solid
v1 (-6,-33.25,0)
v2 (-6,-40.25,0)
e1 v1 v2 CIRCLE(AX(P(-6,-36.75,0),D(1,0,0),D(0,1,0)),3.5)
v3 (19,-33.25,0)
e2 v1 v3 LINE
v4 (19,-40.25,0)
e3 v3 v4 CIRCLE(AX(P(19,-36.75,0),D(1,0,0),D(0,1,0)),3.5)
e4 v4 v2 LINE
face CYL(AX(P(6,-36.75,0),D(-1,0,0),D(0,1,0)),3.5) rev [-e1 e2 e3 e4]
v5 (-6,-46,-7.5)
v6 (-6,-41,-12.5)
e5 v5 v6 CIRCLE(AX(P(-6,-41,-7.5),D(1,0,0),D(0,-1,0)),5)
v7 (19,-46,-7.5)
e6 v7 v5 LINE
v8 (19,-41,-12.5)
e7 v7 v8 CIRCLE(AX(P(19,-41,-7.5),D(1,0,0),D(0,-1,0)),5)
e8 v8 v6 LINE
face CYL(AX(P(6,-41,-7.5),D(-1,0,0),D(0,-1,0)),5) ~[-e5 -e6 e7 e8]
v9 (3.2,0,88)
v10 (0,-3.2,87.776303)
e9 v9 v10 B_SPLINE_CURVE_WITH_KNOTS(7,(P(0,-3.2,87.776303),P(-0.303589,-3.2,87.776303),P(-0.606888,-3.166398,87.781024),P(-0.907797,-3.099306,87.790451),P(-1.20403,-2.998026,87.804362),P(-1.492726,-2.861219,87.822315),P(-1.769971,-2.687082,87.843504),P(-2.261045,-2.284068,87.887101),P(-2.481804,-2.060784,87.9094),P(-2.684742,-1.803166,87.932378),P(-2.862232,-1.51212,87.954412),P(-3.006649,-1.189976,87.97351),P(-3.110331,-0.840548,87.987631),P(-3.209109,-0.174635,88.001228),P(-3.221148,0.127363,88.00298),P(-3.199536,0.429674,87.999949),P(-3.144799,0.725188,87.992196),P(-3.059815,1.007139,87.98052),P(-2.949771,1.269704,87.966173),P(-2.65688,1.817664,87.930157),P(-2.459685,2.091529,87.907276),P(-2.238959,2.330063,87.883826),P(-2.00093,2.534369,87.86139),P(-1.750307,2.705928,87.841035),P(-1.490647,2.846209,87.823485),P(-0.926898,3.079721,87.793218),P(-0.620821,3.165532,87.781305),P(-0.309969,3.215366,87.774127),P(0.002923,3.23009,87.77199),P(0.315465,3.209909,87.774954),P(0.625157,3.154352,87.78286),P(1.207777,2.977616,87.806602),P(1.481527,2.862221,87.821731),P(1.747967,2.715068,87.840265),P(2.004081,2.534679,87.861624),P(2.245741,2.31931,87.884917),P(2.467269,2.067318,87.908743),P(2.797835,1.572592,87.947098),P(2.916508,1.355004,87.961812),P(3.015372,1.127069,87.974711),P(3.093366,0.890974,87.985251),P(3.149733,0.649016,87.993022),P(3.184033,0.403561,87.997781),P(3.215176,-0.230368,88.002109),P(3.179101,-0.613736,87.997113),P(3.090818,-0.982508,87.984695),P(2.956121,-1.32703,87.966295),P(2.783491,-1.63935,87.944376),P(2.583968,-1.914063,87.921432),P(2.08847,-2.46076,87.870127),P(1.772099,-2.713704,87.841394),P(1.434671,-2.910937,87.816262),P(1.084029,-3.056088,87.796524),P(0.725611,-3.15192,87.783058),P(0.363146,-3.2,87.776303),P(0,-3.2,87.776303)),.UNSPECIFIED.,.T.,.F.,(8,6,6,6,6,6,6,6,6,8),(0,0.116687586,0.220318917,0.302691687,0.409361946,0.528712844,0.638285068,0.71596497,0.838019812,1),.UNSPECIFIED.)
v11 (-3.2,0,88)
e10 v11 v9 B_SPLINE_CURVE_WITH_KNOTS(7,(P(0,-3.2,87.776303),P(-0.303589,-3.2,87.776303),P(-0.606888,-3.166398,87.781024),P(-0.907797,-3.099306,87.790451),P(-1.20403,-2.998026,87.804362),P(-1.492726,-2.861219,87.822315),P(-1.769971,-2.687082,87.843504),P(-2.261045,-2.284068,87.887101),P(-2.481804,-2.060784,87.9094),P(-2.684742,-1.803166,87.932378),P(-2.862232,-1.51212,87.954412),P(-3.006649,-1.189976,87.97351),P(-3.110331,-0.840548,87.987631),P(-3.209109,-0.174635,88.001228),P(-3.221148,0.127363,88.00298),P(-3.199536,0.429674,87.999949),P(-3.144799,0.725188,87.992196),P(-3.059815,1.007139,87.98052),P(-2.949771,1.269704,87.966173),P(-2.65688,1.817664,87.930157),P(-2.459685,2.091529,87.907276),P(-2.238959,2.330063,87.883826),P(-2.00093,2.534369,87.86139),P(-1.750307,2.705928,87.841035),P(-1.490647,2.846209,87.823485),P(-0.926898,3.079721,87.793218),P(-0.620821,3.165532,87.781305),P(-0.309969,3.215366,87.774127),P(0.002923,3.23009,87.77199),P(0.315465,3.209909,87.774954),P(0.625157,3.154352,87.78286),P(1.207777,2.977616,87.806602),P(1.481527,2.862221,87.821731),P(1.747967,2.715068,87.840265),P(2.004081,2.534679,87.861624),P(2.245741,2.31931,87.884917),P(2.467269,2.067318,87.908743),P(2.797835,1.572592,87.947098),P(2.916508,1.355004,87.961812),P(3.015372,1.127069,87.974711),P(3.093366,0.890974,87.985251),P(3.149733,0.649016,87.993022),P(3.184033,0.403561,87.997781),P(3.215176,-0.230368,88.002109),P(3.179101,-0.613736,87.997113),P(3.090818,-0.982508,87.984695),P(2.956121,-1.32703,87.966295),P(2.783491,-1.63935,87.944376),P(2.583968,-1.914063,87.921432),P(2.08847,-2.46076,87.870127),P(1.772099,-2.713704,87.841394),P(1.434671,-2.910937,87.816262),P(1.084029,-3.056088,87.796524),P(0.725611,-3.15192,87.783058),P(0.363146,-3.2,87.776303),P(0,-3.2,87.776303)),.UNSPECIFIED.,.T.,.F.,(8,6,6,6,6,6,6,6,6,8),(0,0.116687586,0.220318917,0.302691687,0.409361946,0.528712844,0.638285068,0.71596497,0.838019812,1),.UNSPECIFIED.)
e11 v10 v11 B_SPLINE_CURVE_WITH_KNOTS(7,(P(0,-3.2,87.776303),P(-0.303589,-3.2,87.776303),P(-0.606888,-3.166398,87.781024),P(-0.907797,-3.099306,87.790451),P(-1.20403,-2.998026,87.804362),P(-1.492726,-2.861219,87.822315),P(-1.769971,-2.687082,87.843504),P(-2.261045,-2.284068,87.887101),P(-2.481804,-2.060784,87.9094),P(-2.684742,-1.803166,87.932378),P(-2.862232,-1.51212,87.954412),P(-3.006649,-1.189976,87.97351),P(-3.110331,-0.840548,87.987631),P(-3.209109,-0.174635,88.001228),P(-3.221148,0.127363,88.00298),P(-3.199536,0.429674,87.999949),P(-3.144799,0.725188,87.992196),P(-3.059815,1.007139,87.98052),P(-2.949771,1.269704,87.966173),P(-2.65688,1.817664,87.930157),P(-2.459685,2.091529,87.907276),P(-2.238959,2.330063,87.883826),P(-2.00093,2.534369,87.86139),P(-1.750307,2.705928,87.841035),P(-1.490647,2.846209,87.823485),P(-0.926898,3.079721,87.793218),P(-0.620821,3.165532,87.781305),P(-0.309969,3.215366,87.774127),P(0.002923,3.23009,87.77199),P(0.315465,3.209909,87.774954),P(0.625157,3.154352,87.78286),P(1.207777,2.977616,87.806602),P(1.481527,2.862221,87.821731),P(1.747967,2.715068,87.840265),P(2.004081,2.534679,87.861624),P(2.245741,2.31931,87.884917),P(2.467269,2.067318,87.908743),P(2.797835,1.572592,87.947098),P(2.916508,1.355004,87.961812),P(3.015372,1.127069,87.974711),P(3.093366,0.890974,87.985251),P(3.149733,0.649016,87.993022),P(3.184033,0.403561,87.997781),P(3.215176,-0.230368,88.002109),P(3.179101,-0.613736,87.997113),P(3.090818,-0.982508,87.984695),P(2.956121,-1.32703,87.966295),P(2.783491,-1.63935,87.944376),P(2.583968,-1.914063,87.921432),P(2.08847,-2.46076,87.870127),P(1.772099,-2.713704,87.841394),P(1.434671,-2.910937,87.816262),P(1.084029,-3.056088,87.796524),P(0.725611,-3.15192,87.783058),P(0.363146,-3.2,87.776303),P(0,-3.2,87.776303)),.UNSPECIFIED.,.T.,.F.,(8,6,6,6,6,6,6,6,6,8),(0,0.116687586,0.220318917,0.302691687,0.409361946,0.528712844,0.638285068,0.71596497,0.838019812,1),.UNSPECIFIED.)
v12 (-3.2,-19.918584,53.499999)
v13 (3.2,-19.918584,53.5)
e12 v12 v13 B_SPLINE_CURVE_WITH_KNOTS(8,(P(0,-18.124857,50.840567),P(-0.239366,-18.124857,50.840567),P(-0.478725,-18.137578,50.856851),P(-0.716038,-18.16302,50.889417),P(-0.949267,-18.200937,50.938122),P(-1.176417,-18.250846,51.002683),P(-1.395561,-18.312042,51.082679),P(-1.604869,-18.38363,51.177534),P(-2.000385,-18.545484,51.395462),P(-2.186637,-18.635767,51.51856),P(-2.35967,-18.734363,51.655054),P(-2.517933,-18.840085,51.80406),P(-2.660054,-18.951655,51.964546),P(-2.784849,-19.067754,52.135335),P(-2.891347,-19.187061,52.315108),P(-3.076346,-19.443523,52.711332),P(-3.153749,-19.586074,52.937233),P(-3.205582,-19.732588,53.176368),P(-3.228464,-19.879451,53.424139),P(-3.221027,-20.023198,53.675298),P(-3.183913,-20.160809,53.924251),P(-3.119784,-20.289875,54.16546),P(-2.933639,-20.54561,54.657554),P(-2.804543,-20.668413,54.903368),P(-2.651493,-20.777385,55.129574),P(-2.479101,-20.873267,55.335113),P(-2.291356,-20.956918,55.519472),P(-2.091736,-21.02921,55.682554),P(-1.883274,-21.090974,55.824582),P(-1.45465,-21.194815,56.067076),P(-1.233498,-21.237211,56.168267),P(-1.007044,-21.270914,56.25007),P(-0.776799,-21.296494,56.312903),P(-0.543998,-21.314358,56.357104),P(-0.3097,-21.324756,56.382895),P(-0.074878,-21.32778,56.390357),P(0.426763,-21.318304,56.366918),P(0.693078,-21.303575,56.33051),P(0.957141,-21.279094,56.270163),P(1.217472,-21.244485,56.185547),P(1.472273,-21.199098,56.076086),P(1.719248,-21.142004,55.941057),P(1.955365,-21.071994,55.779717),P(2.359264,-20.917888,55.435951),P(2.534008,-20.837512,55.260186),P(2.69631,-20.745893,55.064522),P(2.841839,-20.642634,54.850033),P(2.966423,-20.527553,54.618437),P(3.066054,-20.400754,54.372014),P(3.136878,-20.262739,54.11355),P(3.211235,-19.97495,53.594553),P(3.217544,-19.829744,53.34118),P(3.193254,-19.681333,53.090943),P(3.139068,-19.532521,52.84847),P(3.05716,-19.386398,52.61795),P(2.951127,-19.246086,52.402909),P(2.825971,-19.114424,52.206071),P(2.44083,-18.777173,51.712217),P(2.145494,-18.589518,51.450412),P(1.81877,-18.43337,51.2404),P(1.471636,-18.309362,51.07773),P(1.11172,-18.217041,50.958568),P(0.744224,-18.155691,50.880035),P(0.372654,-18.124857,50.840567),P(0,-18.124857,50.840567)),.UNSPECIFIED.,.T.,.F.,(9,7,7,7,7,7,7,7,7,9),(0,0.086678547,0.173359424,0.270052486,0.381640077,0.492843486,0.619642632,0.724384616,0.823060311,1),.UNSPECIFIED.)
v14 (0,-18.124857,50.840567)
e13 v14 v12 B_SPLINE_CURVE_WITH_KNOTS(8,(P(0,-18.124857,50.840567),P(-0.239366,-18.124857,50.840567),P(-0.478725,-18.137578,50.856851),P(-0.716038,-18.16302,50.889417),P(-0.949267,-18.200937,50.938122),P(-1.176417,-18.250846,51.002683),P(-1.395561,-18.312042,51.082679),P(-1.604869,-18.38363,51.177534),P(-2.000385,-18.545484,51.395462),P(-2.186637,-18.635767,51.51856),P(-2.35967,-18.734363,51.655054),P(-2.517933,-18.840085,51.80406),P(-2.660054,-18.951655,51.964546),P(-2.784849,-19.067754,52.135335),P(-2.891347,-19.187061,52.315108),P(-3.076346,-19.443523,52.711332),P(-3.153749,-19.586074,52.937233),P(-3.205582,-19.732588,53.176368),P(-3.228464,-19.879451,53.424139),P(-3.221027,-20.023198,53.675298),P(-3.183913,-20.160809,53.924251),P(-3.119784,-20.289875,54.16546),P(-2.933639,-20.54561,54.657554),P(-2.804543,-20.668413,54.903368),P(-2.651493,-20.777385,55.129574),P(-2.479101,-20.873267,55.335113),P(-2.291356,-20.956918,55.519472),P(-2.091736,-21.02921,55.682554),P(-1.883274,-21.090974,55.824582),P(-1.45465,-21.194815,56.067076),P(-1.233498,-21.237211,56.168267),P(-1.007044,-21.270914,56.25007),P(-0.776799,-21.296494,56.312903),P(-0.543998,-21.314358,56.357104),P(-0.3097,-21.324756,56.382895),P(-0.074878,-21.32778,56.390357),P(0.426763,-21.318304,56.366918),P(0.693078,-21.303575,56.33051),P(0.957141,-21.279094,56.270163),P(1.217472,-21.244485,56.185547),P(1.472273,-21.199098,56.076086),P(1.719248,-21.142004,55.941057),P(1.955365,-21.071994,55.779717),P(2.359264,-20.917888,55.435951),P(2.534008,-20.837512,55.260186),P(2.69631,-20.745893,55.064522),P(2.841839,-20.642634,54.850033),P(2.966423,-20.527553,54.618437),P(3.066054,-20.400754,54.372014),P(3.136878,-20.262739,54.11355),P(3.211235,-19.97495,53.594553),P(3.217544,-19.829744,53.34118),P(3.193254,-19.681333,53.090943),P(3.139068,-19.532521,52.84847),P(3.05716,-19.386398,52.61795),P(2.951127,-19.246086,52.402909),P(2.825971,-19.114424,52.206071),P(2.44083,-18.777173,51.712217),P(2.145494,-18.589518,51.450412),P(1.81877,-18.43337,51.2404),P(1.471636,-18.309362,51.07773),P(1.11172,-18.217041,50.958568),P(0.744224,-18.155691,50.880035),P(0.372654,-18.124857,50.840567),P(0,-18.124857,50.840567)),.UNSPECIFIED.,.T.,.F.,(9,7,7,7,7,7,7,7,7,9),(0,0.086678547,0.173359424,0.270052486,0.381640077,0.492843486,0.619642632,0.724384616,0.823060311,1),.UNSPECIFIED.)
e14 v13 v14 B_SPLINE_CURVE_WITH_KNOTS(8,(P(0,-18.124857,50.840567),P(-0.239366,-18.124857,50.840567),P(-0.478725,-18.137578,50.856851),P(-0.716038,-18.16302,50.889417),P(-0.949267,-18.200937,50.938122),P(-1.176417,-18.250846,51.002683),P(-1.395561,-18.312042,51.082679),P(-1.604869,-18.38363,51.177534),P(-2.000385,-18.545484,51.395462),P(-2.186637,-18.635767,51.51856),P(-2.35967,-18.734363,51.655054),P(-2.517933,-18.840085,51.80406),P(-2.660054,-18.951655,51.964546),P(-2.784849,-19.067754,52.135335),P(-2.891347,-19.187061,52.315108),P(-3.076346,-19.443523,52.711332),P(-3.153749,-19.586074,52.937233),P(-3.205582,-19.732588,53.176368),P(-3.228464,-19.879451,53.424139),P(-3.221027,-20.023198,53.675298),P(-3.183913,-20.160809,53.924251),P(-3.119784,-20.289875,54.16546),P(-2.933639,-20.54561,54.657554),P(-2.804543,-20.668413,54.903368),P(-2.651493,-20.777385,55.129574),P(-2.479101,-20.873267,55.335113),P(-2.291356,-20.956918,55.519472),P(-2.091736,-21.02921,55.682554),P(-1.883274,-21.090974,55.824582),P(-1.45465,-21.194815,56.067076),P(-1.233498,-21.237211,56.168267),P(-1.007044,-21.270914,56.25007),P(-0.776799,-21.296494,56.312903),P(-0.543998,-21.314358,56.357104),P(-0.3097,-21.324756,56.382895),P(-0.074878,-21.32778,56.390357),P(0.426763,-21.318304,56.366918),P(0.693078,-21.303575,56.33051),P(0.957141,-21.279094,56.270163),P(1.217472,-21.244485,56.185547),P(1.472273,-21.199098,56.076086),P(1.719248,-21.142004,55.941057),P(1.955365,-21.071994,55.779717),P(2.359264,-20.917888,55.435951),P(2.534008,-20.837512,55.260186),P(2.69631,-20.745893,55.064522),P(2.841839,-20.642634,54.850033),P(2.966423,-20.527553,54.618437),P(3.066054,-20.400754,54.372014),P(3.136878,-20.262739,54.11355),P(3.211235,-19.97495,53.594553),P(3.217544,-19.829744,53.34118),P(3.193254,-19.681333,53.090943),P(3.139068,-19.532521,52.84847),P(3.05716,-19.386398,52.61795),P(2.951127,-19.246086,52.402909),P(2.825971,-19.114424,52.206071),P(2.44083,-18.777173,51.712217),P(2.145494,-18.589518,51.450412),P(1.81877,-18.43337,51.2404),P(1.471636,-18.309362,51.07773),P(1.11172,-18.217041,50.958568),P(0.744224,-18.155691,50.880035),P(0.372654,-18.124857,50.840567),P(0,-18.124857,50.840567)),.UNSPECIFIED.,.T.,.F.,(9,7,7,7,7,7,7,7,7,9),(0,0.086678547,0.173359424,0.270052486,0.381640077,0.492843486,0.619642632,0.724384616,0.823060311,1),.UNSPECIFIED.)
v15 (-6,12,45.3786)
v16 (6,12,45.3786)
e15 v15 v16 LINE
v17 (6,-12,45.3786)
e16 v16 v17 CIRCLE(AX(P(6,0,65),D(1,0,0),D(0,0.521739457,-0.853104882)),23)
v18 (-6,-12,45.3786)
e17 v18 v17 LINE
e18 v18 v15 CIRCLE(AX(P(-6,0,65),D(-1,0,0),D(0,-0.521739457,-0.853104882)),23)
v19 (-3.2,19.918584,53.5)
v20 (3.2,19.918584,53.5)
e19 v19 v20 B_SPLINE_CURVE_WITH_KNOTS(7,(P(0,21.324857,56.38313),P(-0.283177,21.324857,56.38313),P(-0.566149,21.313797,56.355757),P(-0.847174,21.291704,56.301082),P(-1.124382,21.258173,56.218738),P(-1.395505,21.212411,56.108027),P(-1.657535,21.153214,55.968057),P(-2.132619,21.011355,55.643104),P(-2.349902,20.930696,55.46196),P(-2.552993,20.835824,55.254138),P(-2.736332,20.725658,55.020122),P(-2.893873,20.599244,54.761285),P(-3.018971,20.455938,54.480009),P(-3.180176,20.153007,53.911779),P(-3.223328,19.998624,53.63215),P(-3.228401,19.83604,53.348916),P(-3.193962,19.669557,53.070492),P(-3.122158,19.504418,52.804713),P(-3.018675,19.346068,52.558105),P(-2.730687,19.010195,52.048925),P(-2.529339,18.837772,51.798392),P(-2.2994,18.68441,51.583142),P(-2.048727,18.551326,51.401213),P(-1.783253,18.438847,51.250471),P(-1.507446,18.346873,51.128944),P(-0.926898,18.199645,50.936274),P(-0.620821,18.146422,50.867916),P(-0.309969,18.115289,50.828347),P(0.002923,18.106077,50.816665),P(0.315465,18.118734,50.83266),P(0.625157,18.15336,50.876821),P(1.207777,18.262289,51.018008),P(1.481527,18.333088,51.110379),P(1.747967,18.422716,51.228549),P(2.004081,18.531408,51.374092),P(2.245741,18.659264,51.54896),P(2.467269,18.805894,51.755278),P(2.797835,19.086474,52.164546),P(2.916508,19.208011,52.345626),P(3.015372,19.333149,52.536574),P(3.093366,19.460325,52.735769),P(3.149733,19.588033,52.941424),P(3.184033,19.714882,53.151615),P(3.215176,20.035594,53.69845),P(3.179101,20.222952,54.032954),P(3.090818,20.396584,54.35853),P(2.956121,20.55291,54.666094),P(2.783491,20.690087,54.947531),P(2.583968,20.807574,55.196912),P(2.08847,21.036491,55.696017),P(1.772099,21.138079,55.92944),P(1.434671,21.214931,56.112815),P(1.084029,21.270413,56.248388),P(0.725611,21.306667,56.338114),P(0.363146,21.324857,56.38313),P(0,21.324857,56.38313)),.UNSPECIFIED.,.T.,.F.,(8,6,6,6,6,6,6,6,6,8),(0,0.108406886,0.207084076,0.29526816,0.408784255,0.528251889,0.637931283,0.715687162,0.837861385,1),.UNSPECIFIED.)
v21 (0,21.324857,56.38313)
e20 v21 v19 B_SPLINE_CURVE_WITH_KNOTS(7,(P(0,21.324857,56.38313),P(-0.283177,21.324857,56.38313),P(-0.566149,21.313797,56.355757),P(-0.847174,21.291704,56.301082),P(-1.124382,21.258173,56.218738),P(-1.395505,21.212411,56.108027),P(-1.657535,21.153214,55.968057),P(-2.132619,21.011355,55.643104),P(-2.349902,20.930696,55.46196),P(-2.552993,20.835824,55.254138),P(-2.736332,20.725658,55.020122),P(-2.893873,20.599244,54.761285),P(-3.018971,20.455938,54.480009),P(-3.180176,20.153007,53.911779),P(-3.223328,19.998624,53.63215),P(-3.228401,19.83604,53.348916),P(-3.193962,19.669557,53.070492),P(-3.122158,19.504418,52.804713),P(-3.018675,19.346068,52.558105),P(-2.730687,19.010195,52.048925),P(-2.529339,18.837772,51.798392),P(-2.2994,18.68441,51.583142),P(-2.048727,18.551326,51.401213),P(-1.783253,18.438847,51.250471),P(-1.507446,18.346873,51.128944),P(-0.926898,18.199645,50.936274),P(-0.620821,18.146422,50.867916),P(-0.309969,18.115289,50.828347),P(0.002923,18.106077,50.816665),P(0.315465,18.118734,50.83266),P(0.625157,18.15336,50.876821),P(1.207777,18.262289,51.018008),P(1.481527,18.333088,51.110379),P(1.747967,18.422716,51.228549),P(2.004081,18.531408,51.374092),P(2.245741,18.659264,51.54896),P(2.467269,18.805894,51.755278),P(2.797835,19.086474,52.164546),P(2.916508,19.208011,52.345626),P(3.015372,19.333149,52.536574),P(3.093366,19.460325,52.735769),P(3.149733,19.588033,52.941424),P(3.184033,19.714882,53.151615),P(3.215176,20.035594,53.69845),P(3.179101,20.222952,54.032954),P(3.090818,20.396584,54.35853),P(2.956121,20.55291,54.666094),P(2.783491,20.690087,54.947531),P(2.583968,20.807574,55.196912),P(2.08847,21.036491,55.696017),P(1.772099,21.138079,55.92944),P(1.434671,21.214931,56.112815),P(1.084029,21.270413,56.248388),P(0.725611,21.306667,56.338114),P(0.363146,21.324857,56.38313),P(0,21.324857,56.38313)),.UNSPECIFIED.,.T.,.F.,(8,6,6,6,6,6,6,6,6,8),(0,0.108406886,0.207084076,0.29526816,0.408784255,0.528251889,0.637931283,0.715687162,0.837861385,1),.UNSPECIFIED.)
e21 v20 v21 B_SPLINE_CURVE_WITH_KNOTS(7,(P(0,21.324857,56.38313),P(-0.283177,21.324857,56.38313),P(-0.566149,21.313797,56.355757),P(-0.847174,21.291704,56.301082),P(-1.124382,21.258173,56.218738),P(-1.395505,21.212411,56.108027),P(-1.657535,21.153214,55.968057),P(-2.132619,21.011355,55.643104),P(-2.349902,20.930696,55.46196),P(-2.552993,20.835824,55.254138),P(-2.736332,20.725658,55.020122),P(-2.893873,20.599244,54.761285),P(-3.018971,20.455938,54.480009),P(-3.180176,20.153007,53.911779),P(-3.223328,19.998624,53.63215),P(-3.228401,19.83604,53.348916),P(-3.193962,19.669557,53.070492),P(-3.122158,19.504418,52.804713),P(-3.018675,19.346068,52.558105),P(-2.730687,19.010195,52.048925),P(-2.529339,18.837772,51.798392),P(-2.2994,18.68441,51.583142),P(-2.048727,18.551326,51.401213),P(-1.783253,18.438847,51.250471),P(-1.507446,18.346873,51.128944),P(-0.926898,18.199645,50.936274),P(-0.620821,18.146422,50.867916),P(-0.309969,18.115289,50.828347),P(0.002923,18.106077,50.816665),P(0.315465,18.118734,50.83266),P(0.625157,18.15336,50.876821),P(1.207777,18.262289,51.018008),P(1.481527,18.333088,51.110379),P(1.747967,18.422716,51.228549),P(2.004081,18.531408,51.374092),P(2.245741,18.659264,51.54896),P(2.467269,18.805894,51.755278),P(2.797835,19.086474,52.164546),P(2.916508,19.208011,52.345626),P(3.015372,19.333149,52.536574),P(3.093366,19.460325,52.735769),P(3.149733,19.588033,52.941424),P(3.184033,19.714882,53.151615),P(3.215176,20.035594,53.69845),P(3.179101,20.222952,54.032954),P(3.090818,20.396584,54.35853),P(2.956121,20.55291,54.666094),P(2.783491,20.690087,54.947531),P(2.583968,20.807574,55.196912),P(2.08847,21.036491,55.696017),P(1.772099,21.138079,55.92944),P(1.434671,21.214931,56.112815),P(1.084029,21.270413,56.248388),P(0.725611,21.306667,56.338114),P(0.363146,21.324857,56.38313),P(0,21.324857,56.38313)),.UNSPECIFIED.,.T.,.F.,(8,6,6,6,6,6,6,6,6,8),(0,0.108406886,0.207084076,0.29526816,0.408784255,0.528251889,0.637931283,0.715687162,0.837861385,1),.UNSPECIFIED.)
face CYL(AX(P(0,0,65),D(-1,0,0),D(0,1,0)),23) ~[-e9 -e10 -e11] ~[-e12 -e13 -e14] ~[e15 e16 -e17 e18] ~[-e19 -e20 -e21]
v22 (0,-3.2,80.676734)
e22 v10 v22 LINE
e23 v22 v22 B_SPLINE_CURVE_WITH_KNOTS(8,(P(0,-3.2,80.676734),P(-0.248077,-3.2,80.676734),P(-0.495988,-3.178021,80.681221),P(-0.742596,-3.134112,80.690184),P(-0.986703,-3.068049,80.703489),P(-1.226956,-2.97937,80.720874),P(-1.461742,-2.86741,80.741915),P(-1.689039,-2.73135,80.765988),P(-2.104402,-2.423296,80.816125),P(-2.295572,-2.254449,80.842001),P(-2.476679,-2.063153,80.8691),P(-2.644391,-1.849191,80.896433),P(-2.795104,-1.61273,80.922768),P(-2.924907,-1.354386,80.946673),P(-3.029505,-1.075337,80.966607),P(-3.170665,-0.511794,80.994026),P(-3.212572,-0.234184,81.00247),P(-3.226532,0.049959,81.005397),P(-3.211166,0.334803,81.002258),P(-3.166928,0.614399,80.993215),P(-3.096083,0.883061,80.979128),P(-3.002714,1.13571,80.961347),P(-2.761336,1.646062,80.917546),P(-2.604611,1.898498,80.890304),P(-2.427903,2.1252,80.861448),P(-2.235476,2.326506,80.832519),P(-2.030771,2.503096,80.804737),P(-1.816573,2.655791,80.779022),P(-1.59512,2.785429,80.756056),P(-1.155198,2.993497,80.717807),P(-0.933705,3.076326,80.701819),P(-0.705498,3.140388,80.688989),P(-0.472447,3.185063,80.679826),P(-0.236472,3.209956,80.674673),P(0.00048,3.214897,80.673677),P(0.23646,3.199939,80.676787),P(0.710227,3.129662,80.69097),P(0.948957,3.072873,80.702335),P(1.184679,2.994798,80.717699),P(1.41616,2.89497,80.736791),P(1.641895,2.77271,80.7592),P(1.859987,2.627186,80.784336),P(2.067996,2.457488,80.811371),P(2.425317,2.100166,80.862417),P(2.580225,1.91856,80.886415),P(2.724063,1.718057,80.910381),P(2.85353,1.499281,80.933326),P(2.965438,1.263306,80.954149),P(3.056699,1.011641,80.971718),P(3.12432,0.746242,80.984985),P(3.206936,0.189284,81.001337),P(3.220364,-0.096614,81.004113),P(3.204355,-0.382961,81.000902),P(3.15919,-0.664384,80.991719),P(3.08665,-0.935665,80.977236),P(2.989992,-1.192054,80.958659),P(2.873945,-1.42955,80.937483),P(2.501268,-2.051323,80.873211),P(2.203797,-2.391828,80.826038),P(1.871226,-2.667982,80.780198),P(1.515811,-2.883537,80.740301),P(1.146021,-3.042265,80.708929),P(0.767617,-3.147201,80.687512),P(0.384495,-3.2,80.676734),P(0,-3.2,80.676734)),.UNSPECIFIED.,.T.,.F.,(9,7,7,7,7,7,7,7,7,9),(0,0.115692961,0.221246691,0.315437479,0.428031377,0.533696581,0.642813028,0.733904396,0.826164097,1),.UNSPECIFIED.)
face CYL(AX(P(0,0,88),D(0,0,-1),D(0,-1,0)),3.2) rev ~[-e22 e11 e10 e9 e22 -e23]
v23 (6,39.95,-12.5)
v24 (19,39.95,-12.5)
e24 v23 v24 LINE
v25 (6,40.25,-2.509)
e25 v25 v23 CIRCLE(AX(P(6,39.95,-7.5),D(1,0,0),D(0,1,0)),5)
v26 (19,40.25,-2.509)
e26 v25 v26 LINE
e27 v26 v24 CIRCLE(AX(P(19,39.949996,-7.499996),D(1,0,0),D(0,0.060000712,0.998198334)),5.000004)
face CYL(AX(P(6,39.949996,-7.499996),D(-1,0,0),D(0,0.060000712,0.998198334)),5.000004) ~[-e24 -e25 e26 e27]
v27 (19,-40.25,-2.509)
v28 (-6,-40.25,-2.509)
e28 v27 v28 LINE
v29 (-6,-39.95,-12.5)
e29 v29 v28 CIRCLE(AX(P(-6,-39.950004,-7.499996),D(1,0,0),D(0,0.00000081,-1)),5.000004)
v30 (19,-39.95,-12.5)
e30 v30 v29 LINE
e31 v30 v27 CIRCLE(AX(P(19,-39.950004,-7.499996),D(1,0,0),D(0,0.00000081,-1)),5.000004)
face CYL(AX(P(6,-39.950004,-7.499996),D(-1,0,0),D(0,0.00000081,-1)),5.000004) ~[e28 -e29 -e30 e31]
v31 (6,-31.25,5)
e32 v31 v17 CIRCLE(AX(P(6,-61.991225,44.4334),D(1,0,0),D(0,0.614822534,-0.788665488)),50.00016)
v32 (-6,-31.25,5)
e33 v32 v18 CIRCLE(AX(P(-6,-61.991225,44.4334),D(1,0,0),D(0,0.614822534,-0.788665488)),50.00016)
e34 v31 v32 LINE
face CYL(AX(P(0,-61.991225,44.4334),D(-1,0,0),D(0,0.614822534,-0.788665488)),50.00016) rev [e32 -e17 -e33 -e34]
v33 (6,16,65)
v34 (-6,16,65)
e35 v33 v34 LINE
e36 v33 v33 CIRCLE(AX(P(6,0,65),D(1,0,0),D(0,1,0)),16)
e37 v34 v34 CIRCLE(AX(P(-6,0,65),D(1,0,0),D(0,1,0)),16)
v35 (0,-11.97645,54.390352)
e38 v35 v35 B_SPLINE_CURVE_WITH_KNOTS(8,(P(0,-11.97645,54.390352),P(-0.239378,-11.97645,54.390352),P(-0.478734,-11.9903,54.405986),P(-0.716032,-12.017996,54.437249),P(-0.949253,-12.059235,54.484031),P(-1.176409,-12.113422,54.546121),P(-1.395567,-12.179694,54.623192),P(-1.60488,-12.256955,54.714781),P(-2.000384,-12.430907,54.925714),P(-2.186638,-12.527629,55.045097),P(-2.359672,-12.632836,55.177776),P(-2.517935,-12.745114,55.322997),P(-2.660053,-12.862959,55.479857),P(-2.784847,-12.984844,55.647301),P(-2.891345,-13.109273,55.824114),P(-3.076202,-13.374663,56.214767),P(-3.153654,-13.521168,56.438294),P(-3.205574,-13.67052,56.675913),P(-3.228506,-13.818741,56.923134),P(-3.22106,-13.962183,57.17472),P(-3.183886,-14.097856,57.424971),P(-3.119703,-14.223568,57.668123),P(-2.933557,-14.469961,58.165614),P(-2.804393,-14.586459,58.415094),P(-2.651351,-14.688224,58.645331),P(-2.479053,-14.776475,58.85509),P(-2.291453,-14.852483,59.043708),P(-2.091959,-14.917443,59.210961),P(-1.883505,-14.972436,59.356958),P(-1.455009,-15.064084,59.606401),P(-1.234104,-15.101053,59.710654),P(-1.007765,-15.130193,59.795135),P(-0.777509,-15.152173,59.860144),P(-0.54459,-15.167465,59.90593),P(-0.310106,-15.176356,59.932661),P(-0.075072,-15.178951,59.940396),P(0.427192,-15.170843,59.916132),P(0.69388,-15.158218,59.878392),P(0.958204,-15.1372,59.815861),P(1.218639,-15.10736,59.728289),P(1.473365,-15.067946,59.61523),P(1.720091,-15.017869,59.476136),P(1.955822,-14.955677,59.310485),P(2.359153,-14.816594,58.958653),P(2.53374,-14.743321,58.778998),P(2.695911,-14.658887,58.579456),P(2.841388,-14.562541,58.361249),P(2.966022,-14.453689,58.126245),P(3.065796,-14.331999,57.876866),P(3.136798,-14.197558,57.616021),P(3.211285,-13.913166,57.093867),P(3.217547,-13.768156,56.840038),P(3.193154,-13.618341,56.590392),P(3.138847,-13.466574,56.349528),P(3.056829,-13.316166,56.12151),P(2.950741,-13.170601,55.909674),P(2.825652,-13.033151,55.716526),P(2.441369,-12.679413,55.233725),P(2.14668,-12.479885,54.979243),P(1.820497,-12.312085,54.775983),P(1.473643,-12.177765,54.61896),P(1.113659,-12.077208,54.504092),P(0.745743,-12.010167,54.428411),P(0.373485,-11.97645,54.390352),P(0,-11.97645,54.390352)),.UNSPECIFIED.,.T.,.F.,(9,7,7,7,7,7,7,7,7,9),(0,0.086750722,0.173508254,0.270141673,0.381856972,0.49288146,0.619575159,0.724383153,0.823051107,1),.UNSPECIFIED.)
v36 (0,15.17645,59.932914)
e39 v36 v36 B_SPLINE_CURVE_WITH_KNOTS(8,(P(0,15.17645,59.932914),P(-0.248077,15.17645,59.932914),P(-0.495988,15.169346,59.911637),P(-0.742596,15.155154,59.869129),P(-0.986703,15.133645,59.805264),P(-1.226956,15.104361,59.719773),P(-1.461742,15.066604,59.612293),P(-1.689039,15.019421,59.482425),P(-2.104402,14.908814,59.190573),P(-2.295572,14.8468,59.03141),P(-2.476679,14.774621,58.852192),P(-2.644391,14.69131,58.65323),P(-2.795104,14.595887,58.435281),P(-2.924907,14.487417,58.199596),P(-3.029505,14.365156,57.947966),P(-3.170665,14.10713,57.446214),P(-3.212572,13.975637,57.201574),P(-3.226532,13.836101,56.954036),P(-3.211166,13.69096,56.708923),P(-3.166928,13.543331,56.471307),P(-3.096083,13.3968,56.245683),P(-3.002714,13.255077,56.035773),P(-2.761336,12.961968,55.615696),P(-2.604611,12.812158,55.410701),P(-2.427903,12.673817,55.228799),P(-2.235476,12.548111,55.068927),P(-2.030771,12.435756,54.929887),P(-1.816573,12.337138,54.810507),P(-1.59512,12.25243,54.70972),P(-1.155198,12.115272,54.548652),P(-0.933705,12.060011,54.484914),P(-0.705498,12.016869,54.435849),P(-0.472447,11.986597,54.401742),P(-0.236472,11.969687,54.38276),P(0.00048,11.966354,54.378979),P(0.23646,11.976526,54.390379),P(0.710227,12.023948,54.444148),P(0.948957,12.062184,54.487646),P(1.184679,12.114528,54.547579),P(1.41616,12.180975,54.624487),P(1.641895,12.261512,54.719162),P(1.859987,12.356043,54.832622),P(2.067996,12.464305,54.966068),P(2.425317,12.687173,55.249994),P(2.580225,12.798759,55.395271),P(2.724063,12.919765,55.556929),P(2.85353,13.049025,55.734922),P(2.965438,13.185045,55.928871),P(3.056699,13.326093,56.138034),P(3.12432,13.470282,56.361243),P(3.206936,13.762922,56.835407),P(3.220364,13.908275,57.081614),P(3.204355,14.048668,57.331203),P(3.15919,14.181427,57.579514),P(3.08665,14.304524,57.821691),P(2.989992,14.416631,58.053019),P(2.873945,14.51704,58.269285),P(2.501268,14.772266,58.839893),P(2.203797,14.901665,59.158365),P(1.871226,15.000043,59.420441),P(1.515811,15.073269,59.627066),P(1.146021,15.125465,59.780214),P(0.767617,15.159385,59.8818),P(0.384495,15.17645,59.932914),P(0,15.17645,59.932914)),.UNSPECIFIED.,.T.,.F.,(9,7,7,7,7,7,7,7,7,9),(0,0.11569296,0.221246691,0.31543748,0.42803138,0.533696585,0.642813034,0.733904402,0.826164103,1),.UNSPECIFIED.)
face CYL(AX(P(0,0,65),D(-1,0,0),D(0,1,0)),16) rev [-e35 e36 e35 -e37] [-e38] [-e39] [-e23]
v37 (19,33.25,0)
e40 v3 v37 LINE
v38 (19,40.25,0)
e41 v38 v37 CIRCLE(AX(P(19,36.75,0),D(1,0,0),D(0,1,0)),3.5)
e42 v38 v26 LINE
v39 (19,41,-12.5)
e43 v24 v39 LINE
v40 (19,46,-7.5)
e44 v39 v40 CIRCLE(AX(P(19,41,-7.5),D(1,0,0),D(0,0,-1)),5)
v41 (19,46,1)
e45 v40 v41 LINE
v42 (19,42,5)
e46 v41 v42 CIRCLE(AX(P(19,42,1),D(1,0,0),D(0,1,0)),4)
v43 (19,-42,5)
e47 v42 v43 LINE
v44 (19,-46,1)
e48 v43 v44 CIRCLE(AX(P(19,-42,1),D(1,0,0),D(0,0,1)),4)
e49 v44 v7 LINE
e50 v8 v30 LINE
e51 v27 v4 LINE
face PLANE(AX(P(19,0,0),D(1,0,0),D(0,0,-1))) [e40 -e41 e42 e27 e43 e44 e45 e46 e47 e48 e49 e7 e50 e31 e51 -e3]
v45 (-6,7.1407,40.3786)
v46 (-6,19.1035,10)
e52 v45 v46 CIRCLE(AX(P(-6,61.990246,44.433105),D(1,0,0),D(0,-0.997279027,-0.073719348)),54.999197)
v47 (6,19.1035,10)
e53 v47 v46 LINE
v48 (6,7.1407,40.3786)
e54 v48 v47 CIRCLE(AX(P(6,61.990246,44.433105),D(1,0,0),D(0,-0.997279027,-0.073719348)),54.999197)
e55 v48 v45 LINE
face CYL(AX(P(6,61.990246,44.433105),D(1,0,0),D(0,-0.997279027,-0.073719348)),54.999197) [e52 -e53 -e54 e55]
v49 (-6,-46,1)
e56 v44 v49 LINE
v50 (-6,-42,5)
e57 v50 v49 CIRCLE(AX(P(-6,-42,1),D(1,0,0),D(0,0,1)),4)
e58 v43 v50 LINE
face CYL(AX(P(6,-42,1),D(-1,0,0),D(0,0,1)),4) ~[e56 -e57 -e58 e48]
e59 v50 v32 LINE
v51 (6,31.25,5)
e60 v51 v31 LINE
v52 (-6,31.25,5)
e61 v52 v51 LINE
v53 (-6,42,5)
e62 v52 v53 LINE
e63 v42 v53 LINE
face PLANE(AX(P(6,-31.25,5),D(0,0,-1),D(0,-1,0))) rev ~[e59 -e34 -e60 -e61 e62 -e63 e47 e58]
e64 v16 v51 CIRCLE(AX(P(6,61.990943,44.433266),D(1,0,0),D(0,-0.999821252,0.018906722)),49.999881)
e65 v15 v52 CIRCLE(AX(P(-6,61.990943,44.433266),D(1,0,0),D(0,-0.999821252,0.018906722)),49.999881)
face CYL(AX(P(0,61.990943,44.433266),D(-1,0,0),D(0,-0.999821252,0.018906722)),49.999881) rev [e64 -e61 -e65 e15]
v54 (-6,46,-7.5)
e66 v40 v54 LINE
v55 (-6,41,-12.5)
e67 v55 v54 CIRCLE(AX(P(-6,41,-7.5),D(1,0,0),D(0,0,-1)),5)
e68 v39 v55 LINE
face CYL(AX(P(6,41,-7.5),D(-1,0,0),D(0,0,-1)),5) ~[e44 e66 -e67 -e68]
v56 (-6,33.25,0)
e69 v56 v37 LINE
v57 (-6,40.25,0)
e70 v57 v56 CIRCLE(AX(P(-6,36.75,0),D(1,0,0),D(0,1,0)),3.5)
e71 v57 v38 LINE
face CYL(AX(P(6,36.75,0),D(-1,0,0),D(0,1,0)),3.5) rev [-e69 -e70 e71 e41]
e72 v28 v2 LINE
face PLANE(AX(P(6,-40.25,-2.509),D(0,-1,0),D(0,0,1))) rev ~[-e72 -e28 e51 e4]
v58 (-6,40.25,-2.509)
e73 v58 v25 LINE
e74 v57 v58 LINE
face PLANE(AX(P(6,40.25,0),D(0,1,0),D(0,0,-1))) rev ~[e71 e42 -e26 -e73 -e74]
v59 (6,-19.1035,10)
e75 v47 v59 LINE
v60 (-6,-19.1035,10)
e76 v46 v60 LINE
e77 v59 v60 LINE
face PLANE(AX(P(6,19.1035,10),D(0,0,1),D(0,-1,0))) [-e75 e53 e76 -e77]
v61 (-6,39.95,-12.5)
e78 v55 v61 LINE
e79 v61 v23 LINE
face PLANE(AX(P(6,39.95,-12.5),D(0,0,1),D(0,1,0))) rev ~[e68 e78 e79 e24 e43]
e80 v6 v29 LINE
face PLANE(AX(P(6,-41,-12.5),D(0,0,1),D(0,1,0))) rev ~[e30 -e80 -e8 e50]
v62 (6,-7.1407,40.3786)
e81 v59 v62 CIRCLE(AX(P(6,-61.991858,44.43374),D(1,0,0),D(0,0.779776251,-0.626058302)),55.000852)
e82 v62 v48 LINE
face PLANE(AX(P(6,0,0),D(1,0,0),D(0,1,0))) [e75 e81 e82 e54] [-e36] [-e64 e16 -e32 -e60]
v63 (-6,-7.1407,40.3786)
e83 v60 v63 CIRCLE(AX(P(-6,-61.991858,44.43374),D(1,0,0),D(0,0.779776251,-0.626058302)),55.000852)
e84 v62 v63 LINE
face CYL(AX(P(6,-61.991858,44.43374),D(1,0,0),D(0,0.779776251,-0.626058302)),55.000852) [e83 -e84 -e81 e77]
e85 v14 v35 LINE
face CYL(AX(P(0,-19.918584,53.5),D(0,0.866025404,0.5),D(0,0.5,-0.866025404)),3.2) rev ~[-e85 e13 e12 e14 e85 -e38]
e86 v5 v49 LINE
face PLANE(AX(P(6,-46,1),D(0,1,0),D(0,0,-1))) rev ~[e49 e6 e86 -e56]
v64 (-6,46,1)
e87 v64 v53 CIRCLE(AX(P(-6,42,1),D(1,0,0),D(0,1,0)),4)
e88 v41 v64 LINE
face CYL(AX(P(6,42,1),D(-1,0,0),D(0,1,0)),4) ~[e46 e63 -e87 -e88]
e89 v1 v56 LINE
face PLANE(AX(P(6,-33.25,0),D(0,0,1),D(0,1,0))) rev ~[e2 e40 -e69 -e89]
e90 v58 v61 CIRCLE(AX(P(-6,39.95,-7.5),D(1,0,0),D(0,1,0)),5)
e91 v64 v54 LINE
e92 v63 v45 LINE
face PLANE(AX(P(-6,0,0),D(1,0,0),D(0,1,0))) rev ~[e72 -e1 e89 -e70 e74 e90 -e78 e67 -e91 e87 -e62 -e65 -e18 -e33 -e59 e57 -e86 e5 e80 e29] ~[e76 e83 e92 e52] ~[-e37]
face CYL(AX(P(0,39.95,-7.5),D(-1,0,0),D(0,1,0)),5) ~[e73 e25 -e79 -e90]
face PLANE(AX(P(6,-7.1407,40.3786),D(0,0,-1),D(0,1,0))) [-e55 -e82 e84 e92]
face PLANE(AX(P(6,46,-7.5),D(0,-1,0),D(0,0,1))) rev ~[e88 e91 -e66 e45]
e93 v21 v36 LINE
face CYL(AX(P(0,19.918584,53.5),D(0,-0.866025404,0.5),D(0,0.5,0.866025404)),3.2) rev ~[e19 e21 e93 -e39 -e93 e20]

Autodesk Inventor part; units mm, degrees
ref_plane "YZ Plane" through (0, 0, 0) normal (1, 0, 0) x (0, 1, 0)
ref_plane "XZ Plane" through (0, 0, 0) normal (0, 1, 0) x (-1, 0, 0)
sketch "Sketch1" plane through (0, 0, 0) normal (1, 0, 0) x (0, 1, 0)
  line L0 (-46, -7.5) -> (-46, 1)
  line L1 (-42, 5) -> (42, 5)
  line L2 (46, 1) -> (46, -7.5)
  line L3 (-41, -12.5) -> (-39.95, -12.5)
  line L4 (-40.25, -2.509) -> (-40.25, 0)
  line L5 (-40.25, 0) -> (40.25, 0)
  arc A0 (46, 1) -> (42, 5) centre (42, 1) ccw
  arc A1 (-42, 5) -> (-46, 1) centre (-42, 1) ccw
  arc A2 (40.25, 0) -> (33.25, 0) centre (36.75, 0) ccw
  arc A3 (-33.25, 0) -> (-40.25, 0) centre (-36.75, 0) ccw
  line L6 (40.25, 0) -> (40.25, -2.509)
  arc A4 (-39.95, -12.5) -> (-40.25, -2.509) centre (-39.95, -7.5) ccw
  arc A5 (-46, -7.5) -> (-41, -12.5) centre (-41, -7.5) ccw
  circle A6 centre (39.95, -7.5) radius 5
  line L7 (41, -12.5) -> (39.95, -12.5)
  arc A7 (41, -12.5) -> (46, -7.5) centre (41, -7.5) ccw
  circle A8 centre (0, 65) radius 16
  circle A9 centre (0, 65) radius 23
  arc A10 (-31.25, 5) -> (-12, 45.3786) centre (-61.9911, 44.4333) ccw
  arc A11 (12, 45.3786) -> (31.25, 5) centre (61.9911, 44.4333) ccw
  point P0 (0, 0)
  point P1 (-46, -12.5)
  point P2 (-46, 5)
  point P3 (46, 5)
  point P4 (46, -12.5)
  point P5 (0, 0)
  point P6 (-40.25, -1.2545)
  point P7 (40.25, -1.2545)
  point P8 (40.25, -2.509)
  point P9 (0, 5)
  dimension "d71" = 10
  dimension "d2" = 80.5
  dimension "d10" = 92
  dimension "d11" = 5
  dimension "d52" = 4
  dimension "d53" = 7
  dimension "d54" = 7
  dimension "d67" = 10
  dimension "d68" = 7.5
  dimension "d69" = 0.3
  dimension "d70" = 5
  dimension "d72" = 0.3
  dimension "d73" = 5
  dimension "d74" = 32
  dimension "d75" = 7
  dimension "d76" = 65
  dimension "d77" = 2
  dimension "d78" = 2
  dimension "d79" = 12
  dimension "d80" = 50
extrude "Extrusion1" add sketch "Sketch1" along normal mid plane 12 contours L0 A1 L1 A0 L2 A7 L7 A6 L6 A2 L5 A3 L4 A4 L3 A5 | A10 A9 A11 L1 | A9 | A6
sketch "Sketch7" plane through (6, 0, 0) normal (1, 0, 0) x (0, 0, -1)
  arc A0 (-45.3786, 12) -> (-5, 31.25) centre (-44.4333, 61.9911) ccw projected
  arc A1 (-5, -31.25) -> (-45.3786, -12) centre (-44.4333, -61.9911) ccw projected
  arc A2 (-45.3786, 12) -> (-45.3786, -12) centre (-65, 0) ccw projected
  line L0 (-45.3786, 12) -> (-45.3786, -12)
  arc A3 (-45.3786, 12) -> (-5, 31.25) centre (-44.4333, 61.9911) ccw projected
  line L1 (-5, 31.25) -> (-5, -31.25)
  line L2 (0, -33.25) -> (0, 33.25) projected
  arc A4 (-45.3786, 12) -> (-5, 31.25) centre (-44.4333, 61.9911) ccw
  arc A5 (-5, -31.25) -> (-45.3786, -12) centre (-44.4333, -61.9911) ccw projected
  arc A6 (-5, -31.25) -> (-45.3786, -12) centre (-44.4333, -61.9911) ccw
  arc A7 (-10, -19.1035) -> (-40.3786, -7.1407) centre (-44.4333, -61.9911) ccw
  line L3 (-40.3786, -7.1407) -> (-40.3786, 7.1407)
  arc A8 (-40.3786, 7.1407) -> (-10, 19.1035) centre (-44.4333, 61.9911) ccw
  line L4 (-10, 19.1035) -> (-10, -19.1035)
  point P0 (0, 0)
  dimension "d81" = 5
extrude "Extrusion4" cut sketch "Sketch7" against normal through all contours A7 L3 A8 L4
sketch "Sketch8" plane through (6, 0, 0) normal (1, 0, 0) x (0, 0, -1)
  line L0 (-40.3786, -7.1407) -> (-40.3786, 7.1407) projected
  arc A0 (-40.3786, 7.1407) -> (-10, 19.1035) centre (-44.4333, 61.9911) ccw projected
  line L1 (-10, 19.1035) -> (-10, -19.1035) projected
  arc A1 (-10, -19.1035) -> (-40.3786, -7.1407) centre (-44.4333, -61.9911) ccw projected
  arc A2 (0, -33.25) -> (0, -40.25) centre (0, -36.75) ccw projected
  line L2 (0, -33.25) -> (0, 33.25) projected
  arc A3 (0, 40.25) -> (0, 33.25) centre (0, 36.75) ccw projected
  line L3 (0, 40.25) -> (2.509, 40.25) projected
  arc A4 (2.509, 40.25) -> (12.5, 39.95) centre (7.5, 39.95) ccw projected
  line L4 (12.5, 39.95) -> (12.5, 41) projected
  arc A5 (12.5, 41) -> (7.5, 46) centre (7.5, 41) ccw projected
  line L5 (7.5, 46) -> (-1, 46) projected
  arc A6 (-1, 46) -> (-5, 42) centre (-1, 42) ccw projected
  line L6 (-5, 42) -> (-5, 31.25) projected
  arc A7 (-45.3786, 12) -> (-5, 31.25) centre (-44.4333, 61.9911) ccw projected
  arc A8 (-45.3786, 12) -> (-45.3786, -12) centre (-65, 0) ccw projected
  arc A9 (-5, -31.25) -> (-45.3786, -12) centre (-44.4333, -61.9911) ccw projected
  line L7 (-5, -31.25) -> (-5, -42) projected
  arc A10 (-5, -42) -> (-1, -46) centre (-1, -42) ccw projected
  line L8 (-1, -46) -> (7.5, -46) projected
  arc A11 (7.5, -46) -> (12.5, -41) centre (7.5, -41) ccw projected
  line L9 (12.5, -41) -> (12.5, -39.95) projected
  arc A12 (12.5, -39.95) -> (2.509, -40.25) centre (7.5, -39.95) ccw projected
  line L10 (2.509, -40.25) -> (0, -40.25) projected
  circle A13 centre (-65, 0) radius 16 projected
  line L11 (-5, 31.25) -> (-5, -31.25)
  point P0 (0, 0)
extrude "Extrusion5" add sketch "Sketch8" along normal blind 13 contours A2 L10 A12 L9 A11 L8 A10 L7 L11 L6 A6 L5 A5 L4 A4 L3 A3 L2
ref_plane "Work Plane1" through (0, 0, 88) normal (0, 0, 1) x (1, 0, 0)
sketch "Sketch9" plane through (0, 0, 88) normal (0, 0, 1) x (1, 0, 0)
  point P0 (0, 0)
  point P1 (0, 0)
hole "Hole4" at (0, 0, 88) direction (0, 0, -1) diameter 6.4 depth 10
pattern_circular "Circular Pattern1" count 3 over 360 about axis through (0, 0, 65) along (1, 0, 0) of "Hole4"
equation "\"d72\" = d69"
properties part number "Rail-HeNeHolder" material "ABS Plastic"
